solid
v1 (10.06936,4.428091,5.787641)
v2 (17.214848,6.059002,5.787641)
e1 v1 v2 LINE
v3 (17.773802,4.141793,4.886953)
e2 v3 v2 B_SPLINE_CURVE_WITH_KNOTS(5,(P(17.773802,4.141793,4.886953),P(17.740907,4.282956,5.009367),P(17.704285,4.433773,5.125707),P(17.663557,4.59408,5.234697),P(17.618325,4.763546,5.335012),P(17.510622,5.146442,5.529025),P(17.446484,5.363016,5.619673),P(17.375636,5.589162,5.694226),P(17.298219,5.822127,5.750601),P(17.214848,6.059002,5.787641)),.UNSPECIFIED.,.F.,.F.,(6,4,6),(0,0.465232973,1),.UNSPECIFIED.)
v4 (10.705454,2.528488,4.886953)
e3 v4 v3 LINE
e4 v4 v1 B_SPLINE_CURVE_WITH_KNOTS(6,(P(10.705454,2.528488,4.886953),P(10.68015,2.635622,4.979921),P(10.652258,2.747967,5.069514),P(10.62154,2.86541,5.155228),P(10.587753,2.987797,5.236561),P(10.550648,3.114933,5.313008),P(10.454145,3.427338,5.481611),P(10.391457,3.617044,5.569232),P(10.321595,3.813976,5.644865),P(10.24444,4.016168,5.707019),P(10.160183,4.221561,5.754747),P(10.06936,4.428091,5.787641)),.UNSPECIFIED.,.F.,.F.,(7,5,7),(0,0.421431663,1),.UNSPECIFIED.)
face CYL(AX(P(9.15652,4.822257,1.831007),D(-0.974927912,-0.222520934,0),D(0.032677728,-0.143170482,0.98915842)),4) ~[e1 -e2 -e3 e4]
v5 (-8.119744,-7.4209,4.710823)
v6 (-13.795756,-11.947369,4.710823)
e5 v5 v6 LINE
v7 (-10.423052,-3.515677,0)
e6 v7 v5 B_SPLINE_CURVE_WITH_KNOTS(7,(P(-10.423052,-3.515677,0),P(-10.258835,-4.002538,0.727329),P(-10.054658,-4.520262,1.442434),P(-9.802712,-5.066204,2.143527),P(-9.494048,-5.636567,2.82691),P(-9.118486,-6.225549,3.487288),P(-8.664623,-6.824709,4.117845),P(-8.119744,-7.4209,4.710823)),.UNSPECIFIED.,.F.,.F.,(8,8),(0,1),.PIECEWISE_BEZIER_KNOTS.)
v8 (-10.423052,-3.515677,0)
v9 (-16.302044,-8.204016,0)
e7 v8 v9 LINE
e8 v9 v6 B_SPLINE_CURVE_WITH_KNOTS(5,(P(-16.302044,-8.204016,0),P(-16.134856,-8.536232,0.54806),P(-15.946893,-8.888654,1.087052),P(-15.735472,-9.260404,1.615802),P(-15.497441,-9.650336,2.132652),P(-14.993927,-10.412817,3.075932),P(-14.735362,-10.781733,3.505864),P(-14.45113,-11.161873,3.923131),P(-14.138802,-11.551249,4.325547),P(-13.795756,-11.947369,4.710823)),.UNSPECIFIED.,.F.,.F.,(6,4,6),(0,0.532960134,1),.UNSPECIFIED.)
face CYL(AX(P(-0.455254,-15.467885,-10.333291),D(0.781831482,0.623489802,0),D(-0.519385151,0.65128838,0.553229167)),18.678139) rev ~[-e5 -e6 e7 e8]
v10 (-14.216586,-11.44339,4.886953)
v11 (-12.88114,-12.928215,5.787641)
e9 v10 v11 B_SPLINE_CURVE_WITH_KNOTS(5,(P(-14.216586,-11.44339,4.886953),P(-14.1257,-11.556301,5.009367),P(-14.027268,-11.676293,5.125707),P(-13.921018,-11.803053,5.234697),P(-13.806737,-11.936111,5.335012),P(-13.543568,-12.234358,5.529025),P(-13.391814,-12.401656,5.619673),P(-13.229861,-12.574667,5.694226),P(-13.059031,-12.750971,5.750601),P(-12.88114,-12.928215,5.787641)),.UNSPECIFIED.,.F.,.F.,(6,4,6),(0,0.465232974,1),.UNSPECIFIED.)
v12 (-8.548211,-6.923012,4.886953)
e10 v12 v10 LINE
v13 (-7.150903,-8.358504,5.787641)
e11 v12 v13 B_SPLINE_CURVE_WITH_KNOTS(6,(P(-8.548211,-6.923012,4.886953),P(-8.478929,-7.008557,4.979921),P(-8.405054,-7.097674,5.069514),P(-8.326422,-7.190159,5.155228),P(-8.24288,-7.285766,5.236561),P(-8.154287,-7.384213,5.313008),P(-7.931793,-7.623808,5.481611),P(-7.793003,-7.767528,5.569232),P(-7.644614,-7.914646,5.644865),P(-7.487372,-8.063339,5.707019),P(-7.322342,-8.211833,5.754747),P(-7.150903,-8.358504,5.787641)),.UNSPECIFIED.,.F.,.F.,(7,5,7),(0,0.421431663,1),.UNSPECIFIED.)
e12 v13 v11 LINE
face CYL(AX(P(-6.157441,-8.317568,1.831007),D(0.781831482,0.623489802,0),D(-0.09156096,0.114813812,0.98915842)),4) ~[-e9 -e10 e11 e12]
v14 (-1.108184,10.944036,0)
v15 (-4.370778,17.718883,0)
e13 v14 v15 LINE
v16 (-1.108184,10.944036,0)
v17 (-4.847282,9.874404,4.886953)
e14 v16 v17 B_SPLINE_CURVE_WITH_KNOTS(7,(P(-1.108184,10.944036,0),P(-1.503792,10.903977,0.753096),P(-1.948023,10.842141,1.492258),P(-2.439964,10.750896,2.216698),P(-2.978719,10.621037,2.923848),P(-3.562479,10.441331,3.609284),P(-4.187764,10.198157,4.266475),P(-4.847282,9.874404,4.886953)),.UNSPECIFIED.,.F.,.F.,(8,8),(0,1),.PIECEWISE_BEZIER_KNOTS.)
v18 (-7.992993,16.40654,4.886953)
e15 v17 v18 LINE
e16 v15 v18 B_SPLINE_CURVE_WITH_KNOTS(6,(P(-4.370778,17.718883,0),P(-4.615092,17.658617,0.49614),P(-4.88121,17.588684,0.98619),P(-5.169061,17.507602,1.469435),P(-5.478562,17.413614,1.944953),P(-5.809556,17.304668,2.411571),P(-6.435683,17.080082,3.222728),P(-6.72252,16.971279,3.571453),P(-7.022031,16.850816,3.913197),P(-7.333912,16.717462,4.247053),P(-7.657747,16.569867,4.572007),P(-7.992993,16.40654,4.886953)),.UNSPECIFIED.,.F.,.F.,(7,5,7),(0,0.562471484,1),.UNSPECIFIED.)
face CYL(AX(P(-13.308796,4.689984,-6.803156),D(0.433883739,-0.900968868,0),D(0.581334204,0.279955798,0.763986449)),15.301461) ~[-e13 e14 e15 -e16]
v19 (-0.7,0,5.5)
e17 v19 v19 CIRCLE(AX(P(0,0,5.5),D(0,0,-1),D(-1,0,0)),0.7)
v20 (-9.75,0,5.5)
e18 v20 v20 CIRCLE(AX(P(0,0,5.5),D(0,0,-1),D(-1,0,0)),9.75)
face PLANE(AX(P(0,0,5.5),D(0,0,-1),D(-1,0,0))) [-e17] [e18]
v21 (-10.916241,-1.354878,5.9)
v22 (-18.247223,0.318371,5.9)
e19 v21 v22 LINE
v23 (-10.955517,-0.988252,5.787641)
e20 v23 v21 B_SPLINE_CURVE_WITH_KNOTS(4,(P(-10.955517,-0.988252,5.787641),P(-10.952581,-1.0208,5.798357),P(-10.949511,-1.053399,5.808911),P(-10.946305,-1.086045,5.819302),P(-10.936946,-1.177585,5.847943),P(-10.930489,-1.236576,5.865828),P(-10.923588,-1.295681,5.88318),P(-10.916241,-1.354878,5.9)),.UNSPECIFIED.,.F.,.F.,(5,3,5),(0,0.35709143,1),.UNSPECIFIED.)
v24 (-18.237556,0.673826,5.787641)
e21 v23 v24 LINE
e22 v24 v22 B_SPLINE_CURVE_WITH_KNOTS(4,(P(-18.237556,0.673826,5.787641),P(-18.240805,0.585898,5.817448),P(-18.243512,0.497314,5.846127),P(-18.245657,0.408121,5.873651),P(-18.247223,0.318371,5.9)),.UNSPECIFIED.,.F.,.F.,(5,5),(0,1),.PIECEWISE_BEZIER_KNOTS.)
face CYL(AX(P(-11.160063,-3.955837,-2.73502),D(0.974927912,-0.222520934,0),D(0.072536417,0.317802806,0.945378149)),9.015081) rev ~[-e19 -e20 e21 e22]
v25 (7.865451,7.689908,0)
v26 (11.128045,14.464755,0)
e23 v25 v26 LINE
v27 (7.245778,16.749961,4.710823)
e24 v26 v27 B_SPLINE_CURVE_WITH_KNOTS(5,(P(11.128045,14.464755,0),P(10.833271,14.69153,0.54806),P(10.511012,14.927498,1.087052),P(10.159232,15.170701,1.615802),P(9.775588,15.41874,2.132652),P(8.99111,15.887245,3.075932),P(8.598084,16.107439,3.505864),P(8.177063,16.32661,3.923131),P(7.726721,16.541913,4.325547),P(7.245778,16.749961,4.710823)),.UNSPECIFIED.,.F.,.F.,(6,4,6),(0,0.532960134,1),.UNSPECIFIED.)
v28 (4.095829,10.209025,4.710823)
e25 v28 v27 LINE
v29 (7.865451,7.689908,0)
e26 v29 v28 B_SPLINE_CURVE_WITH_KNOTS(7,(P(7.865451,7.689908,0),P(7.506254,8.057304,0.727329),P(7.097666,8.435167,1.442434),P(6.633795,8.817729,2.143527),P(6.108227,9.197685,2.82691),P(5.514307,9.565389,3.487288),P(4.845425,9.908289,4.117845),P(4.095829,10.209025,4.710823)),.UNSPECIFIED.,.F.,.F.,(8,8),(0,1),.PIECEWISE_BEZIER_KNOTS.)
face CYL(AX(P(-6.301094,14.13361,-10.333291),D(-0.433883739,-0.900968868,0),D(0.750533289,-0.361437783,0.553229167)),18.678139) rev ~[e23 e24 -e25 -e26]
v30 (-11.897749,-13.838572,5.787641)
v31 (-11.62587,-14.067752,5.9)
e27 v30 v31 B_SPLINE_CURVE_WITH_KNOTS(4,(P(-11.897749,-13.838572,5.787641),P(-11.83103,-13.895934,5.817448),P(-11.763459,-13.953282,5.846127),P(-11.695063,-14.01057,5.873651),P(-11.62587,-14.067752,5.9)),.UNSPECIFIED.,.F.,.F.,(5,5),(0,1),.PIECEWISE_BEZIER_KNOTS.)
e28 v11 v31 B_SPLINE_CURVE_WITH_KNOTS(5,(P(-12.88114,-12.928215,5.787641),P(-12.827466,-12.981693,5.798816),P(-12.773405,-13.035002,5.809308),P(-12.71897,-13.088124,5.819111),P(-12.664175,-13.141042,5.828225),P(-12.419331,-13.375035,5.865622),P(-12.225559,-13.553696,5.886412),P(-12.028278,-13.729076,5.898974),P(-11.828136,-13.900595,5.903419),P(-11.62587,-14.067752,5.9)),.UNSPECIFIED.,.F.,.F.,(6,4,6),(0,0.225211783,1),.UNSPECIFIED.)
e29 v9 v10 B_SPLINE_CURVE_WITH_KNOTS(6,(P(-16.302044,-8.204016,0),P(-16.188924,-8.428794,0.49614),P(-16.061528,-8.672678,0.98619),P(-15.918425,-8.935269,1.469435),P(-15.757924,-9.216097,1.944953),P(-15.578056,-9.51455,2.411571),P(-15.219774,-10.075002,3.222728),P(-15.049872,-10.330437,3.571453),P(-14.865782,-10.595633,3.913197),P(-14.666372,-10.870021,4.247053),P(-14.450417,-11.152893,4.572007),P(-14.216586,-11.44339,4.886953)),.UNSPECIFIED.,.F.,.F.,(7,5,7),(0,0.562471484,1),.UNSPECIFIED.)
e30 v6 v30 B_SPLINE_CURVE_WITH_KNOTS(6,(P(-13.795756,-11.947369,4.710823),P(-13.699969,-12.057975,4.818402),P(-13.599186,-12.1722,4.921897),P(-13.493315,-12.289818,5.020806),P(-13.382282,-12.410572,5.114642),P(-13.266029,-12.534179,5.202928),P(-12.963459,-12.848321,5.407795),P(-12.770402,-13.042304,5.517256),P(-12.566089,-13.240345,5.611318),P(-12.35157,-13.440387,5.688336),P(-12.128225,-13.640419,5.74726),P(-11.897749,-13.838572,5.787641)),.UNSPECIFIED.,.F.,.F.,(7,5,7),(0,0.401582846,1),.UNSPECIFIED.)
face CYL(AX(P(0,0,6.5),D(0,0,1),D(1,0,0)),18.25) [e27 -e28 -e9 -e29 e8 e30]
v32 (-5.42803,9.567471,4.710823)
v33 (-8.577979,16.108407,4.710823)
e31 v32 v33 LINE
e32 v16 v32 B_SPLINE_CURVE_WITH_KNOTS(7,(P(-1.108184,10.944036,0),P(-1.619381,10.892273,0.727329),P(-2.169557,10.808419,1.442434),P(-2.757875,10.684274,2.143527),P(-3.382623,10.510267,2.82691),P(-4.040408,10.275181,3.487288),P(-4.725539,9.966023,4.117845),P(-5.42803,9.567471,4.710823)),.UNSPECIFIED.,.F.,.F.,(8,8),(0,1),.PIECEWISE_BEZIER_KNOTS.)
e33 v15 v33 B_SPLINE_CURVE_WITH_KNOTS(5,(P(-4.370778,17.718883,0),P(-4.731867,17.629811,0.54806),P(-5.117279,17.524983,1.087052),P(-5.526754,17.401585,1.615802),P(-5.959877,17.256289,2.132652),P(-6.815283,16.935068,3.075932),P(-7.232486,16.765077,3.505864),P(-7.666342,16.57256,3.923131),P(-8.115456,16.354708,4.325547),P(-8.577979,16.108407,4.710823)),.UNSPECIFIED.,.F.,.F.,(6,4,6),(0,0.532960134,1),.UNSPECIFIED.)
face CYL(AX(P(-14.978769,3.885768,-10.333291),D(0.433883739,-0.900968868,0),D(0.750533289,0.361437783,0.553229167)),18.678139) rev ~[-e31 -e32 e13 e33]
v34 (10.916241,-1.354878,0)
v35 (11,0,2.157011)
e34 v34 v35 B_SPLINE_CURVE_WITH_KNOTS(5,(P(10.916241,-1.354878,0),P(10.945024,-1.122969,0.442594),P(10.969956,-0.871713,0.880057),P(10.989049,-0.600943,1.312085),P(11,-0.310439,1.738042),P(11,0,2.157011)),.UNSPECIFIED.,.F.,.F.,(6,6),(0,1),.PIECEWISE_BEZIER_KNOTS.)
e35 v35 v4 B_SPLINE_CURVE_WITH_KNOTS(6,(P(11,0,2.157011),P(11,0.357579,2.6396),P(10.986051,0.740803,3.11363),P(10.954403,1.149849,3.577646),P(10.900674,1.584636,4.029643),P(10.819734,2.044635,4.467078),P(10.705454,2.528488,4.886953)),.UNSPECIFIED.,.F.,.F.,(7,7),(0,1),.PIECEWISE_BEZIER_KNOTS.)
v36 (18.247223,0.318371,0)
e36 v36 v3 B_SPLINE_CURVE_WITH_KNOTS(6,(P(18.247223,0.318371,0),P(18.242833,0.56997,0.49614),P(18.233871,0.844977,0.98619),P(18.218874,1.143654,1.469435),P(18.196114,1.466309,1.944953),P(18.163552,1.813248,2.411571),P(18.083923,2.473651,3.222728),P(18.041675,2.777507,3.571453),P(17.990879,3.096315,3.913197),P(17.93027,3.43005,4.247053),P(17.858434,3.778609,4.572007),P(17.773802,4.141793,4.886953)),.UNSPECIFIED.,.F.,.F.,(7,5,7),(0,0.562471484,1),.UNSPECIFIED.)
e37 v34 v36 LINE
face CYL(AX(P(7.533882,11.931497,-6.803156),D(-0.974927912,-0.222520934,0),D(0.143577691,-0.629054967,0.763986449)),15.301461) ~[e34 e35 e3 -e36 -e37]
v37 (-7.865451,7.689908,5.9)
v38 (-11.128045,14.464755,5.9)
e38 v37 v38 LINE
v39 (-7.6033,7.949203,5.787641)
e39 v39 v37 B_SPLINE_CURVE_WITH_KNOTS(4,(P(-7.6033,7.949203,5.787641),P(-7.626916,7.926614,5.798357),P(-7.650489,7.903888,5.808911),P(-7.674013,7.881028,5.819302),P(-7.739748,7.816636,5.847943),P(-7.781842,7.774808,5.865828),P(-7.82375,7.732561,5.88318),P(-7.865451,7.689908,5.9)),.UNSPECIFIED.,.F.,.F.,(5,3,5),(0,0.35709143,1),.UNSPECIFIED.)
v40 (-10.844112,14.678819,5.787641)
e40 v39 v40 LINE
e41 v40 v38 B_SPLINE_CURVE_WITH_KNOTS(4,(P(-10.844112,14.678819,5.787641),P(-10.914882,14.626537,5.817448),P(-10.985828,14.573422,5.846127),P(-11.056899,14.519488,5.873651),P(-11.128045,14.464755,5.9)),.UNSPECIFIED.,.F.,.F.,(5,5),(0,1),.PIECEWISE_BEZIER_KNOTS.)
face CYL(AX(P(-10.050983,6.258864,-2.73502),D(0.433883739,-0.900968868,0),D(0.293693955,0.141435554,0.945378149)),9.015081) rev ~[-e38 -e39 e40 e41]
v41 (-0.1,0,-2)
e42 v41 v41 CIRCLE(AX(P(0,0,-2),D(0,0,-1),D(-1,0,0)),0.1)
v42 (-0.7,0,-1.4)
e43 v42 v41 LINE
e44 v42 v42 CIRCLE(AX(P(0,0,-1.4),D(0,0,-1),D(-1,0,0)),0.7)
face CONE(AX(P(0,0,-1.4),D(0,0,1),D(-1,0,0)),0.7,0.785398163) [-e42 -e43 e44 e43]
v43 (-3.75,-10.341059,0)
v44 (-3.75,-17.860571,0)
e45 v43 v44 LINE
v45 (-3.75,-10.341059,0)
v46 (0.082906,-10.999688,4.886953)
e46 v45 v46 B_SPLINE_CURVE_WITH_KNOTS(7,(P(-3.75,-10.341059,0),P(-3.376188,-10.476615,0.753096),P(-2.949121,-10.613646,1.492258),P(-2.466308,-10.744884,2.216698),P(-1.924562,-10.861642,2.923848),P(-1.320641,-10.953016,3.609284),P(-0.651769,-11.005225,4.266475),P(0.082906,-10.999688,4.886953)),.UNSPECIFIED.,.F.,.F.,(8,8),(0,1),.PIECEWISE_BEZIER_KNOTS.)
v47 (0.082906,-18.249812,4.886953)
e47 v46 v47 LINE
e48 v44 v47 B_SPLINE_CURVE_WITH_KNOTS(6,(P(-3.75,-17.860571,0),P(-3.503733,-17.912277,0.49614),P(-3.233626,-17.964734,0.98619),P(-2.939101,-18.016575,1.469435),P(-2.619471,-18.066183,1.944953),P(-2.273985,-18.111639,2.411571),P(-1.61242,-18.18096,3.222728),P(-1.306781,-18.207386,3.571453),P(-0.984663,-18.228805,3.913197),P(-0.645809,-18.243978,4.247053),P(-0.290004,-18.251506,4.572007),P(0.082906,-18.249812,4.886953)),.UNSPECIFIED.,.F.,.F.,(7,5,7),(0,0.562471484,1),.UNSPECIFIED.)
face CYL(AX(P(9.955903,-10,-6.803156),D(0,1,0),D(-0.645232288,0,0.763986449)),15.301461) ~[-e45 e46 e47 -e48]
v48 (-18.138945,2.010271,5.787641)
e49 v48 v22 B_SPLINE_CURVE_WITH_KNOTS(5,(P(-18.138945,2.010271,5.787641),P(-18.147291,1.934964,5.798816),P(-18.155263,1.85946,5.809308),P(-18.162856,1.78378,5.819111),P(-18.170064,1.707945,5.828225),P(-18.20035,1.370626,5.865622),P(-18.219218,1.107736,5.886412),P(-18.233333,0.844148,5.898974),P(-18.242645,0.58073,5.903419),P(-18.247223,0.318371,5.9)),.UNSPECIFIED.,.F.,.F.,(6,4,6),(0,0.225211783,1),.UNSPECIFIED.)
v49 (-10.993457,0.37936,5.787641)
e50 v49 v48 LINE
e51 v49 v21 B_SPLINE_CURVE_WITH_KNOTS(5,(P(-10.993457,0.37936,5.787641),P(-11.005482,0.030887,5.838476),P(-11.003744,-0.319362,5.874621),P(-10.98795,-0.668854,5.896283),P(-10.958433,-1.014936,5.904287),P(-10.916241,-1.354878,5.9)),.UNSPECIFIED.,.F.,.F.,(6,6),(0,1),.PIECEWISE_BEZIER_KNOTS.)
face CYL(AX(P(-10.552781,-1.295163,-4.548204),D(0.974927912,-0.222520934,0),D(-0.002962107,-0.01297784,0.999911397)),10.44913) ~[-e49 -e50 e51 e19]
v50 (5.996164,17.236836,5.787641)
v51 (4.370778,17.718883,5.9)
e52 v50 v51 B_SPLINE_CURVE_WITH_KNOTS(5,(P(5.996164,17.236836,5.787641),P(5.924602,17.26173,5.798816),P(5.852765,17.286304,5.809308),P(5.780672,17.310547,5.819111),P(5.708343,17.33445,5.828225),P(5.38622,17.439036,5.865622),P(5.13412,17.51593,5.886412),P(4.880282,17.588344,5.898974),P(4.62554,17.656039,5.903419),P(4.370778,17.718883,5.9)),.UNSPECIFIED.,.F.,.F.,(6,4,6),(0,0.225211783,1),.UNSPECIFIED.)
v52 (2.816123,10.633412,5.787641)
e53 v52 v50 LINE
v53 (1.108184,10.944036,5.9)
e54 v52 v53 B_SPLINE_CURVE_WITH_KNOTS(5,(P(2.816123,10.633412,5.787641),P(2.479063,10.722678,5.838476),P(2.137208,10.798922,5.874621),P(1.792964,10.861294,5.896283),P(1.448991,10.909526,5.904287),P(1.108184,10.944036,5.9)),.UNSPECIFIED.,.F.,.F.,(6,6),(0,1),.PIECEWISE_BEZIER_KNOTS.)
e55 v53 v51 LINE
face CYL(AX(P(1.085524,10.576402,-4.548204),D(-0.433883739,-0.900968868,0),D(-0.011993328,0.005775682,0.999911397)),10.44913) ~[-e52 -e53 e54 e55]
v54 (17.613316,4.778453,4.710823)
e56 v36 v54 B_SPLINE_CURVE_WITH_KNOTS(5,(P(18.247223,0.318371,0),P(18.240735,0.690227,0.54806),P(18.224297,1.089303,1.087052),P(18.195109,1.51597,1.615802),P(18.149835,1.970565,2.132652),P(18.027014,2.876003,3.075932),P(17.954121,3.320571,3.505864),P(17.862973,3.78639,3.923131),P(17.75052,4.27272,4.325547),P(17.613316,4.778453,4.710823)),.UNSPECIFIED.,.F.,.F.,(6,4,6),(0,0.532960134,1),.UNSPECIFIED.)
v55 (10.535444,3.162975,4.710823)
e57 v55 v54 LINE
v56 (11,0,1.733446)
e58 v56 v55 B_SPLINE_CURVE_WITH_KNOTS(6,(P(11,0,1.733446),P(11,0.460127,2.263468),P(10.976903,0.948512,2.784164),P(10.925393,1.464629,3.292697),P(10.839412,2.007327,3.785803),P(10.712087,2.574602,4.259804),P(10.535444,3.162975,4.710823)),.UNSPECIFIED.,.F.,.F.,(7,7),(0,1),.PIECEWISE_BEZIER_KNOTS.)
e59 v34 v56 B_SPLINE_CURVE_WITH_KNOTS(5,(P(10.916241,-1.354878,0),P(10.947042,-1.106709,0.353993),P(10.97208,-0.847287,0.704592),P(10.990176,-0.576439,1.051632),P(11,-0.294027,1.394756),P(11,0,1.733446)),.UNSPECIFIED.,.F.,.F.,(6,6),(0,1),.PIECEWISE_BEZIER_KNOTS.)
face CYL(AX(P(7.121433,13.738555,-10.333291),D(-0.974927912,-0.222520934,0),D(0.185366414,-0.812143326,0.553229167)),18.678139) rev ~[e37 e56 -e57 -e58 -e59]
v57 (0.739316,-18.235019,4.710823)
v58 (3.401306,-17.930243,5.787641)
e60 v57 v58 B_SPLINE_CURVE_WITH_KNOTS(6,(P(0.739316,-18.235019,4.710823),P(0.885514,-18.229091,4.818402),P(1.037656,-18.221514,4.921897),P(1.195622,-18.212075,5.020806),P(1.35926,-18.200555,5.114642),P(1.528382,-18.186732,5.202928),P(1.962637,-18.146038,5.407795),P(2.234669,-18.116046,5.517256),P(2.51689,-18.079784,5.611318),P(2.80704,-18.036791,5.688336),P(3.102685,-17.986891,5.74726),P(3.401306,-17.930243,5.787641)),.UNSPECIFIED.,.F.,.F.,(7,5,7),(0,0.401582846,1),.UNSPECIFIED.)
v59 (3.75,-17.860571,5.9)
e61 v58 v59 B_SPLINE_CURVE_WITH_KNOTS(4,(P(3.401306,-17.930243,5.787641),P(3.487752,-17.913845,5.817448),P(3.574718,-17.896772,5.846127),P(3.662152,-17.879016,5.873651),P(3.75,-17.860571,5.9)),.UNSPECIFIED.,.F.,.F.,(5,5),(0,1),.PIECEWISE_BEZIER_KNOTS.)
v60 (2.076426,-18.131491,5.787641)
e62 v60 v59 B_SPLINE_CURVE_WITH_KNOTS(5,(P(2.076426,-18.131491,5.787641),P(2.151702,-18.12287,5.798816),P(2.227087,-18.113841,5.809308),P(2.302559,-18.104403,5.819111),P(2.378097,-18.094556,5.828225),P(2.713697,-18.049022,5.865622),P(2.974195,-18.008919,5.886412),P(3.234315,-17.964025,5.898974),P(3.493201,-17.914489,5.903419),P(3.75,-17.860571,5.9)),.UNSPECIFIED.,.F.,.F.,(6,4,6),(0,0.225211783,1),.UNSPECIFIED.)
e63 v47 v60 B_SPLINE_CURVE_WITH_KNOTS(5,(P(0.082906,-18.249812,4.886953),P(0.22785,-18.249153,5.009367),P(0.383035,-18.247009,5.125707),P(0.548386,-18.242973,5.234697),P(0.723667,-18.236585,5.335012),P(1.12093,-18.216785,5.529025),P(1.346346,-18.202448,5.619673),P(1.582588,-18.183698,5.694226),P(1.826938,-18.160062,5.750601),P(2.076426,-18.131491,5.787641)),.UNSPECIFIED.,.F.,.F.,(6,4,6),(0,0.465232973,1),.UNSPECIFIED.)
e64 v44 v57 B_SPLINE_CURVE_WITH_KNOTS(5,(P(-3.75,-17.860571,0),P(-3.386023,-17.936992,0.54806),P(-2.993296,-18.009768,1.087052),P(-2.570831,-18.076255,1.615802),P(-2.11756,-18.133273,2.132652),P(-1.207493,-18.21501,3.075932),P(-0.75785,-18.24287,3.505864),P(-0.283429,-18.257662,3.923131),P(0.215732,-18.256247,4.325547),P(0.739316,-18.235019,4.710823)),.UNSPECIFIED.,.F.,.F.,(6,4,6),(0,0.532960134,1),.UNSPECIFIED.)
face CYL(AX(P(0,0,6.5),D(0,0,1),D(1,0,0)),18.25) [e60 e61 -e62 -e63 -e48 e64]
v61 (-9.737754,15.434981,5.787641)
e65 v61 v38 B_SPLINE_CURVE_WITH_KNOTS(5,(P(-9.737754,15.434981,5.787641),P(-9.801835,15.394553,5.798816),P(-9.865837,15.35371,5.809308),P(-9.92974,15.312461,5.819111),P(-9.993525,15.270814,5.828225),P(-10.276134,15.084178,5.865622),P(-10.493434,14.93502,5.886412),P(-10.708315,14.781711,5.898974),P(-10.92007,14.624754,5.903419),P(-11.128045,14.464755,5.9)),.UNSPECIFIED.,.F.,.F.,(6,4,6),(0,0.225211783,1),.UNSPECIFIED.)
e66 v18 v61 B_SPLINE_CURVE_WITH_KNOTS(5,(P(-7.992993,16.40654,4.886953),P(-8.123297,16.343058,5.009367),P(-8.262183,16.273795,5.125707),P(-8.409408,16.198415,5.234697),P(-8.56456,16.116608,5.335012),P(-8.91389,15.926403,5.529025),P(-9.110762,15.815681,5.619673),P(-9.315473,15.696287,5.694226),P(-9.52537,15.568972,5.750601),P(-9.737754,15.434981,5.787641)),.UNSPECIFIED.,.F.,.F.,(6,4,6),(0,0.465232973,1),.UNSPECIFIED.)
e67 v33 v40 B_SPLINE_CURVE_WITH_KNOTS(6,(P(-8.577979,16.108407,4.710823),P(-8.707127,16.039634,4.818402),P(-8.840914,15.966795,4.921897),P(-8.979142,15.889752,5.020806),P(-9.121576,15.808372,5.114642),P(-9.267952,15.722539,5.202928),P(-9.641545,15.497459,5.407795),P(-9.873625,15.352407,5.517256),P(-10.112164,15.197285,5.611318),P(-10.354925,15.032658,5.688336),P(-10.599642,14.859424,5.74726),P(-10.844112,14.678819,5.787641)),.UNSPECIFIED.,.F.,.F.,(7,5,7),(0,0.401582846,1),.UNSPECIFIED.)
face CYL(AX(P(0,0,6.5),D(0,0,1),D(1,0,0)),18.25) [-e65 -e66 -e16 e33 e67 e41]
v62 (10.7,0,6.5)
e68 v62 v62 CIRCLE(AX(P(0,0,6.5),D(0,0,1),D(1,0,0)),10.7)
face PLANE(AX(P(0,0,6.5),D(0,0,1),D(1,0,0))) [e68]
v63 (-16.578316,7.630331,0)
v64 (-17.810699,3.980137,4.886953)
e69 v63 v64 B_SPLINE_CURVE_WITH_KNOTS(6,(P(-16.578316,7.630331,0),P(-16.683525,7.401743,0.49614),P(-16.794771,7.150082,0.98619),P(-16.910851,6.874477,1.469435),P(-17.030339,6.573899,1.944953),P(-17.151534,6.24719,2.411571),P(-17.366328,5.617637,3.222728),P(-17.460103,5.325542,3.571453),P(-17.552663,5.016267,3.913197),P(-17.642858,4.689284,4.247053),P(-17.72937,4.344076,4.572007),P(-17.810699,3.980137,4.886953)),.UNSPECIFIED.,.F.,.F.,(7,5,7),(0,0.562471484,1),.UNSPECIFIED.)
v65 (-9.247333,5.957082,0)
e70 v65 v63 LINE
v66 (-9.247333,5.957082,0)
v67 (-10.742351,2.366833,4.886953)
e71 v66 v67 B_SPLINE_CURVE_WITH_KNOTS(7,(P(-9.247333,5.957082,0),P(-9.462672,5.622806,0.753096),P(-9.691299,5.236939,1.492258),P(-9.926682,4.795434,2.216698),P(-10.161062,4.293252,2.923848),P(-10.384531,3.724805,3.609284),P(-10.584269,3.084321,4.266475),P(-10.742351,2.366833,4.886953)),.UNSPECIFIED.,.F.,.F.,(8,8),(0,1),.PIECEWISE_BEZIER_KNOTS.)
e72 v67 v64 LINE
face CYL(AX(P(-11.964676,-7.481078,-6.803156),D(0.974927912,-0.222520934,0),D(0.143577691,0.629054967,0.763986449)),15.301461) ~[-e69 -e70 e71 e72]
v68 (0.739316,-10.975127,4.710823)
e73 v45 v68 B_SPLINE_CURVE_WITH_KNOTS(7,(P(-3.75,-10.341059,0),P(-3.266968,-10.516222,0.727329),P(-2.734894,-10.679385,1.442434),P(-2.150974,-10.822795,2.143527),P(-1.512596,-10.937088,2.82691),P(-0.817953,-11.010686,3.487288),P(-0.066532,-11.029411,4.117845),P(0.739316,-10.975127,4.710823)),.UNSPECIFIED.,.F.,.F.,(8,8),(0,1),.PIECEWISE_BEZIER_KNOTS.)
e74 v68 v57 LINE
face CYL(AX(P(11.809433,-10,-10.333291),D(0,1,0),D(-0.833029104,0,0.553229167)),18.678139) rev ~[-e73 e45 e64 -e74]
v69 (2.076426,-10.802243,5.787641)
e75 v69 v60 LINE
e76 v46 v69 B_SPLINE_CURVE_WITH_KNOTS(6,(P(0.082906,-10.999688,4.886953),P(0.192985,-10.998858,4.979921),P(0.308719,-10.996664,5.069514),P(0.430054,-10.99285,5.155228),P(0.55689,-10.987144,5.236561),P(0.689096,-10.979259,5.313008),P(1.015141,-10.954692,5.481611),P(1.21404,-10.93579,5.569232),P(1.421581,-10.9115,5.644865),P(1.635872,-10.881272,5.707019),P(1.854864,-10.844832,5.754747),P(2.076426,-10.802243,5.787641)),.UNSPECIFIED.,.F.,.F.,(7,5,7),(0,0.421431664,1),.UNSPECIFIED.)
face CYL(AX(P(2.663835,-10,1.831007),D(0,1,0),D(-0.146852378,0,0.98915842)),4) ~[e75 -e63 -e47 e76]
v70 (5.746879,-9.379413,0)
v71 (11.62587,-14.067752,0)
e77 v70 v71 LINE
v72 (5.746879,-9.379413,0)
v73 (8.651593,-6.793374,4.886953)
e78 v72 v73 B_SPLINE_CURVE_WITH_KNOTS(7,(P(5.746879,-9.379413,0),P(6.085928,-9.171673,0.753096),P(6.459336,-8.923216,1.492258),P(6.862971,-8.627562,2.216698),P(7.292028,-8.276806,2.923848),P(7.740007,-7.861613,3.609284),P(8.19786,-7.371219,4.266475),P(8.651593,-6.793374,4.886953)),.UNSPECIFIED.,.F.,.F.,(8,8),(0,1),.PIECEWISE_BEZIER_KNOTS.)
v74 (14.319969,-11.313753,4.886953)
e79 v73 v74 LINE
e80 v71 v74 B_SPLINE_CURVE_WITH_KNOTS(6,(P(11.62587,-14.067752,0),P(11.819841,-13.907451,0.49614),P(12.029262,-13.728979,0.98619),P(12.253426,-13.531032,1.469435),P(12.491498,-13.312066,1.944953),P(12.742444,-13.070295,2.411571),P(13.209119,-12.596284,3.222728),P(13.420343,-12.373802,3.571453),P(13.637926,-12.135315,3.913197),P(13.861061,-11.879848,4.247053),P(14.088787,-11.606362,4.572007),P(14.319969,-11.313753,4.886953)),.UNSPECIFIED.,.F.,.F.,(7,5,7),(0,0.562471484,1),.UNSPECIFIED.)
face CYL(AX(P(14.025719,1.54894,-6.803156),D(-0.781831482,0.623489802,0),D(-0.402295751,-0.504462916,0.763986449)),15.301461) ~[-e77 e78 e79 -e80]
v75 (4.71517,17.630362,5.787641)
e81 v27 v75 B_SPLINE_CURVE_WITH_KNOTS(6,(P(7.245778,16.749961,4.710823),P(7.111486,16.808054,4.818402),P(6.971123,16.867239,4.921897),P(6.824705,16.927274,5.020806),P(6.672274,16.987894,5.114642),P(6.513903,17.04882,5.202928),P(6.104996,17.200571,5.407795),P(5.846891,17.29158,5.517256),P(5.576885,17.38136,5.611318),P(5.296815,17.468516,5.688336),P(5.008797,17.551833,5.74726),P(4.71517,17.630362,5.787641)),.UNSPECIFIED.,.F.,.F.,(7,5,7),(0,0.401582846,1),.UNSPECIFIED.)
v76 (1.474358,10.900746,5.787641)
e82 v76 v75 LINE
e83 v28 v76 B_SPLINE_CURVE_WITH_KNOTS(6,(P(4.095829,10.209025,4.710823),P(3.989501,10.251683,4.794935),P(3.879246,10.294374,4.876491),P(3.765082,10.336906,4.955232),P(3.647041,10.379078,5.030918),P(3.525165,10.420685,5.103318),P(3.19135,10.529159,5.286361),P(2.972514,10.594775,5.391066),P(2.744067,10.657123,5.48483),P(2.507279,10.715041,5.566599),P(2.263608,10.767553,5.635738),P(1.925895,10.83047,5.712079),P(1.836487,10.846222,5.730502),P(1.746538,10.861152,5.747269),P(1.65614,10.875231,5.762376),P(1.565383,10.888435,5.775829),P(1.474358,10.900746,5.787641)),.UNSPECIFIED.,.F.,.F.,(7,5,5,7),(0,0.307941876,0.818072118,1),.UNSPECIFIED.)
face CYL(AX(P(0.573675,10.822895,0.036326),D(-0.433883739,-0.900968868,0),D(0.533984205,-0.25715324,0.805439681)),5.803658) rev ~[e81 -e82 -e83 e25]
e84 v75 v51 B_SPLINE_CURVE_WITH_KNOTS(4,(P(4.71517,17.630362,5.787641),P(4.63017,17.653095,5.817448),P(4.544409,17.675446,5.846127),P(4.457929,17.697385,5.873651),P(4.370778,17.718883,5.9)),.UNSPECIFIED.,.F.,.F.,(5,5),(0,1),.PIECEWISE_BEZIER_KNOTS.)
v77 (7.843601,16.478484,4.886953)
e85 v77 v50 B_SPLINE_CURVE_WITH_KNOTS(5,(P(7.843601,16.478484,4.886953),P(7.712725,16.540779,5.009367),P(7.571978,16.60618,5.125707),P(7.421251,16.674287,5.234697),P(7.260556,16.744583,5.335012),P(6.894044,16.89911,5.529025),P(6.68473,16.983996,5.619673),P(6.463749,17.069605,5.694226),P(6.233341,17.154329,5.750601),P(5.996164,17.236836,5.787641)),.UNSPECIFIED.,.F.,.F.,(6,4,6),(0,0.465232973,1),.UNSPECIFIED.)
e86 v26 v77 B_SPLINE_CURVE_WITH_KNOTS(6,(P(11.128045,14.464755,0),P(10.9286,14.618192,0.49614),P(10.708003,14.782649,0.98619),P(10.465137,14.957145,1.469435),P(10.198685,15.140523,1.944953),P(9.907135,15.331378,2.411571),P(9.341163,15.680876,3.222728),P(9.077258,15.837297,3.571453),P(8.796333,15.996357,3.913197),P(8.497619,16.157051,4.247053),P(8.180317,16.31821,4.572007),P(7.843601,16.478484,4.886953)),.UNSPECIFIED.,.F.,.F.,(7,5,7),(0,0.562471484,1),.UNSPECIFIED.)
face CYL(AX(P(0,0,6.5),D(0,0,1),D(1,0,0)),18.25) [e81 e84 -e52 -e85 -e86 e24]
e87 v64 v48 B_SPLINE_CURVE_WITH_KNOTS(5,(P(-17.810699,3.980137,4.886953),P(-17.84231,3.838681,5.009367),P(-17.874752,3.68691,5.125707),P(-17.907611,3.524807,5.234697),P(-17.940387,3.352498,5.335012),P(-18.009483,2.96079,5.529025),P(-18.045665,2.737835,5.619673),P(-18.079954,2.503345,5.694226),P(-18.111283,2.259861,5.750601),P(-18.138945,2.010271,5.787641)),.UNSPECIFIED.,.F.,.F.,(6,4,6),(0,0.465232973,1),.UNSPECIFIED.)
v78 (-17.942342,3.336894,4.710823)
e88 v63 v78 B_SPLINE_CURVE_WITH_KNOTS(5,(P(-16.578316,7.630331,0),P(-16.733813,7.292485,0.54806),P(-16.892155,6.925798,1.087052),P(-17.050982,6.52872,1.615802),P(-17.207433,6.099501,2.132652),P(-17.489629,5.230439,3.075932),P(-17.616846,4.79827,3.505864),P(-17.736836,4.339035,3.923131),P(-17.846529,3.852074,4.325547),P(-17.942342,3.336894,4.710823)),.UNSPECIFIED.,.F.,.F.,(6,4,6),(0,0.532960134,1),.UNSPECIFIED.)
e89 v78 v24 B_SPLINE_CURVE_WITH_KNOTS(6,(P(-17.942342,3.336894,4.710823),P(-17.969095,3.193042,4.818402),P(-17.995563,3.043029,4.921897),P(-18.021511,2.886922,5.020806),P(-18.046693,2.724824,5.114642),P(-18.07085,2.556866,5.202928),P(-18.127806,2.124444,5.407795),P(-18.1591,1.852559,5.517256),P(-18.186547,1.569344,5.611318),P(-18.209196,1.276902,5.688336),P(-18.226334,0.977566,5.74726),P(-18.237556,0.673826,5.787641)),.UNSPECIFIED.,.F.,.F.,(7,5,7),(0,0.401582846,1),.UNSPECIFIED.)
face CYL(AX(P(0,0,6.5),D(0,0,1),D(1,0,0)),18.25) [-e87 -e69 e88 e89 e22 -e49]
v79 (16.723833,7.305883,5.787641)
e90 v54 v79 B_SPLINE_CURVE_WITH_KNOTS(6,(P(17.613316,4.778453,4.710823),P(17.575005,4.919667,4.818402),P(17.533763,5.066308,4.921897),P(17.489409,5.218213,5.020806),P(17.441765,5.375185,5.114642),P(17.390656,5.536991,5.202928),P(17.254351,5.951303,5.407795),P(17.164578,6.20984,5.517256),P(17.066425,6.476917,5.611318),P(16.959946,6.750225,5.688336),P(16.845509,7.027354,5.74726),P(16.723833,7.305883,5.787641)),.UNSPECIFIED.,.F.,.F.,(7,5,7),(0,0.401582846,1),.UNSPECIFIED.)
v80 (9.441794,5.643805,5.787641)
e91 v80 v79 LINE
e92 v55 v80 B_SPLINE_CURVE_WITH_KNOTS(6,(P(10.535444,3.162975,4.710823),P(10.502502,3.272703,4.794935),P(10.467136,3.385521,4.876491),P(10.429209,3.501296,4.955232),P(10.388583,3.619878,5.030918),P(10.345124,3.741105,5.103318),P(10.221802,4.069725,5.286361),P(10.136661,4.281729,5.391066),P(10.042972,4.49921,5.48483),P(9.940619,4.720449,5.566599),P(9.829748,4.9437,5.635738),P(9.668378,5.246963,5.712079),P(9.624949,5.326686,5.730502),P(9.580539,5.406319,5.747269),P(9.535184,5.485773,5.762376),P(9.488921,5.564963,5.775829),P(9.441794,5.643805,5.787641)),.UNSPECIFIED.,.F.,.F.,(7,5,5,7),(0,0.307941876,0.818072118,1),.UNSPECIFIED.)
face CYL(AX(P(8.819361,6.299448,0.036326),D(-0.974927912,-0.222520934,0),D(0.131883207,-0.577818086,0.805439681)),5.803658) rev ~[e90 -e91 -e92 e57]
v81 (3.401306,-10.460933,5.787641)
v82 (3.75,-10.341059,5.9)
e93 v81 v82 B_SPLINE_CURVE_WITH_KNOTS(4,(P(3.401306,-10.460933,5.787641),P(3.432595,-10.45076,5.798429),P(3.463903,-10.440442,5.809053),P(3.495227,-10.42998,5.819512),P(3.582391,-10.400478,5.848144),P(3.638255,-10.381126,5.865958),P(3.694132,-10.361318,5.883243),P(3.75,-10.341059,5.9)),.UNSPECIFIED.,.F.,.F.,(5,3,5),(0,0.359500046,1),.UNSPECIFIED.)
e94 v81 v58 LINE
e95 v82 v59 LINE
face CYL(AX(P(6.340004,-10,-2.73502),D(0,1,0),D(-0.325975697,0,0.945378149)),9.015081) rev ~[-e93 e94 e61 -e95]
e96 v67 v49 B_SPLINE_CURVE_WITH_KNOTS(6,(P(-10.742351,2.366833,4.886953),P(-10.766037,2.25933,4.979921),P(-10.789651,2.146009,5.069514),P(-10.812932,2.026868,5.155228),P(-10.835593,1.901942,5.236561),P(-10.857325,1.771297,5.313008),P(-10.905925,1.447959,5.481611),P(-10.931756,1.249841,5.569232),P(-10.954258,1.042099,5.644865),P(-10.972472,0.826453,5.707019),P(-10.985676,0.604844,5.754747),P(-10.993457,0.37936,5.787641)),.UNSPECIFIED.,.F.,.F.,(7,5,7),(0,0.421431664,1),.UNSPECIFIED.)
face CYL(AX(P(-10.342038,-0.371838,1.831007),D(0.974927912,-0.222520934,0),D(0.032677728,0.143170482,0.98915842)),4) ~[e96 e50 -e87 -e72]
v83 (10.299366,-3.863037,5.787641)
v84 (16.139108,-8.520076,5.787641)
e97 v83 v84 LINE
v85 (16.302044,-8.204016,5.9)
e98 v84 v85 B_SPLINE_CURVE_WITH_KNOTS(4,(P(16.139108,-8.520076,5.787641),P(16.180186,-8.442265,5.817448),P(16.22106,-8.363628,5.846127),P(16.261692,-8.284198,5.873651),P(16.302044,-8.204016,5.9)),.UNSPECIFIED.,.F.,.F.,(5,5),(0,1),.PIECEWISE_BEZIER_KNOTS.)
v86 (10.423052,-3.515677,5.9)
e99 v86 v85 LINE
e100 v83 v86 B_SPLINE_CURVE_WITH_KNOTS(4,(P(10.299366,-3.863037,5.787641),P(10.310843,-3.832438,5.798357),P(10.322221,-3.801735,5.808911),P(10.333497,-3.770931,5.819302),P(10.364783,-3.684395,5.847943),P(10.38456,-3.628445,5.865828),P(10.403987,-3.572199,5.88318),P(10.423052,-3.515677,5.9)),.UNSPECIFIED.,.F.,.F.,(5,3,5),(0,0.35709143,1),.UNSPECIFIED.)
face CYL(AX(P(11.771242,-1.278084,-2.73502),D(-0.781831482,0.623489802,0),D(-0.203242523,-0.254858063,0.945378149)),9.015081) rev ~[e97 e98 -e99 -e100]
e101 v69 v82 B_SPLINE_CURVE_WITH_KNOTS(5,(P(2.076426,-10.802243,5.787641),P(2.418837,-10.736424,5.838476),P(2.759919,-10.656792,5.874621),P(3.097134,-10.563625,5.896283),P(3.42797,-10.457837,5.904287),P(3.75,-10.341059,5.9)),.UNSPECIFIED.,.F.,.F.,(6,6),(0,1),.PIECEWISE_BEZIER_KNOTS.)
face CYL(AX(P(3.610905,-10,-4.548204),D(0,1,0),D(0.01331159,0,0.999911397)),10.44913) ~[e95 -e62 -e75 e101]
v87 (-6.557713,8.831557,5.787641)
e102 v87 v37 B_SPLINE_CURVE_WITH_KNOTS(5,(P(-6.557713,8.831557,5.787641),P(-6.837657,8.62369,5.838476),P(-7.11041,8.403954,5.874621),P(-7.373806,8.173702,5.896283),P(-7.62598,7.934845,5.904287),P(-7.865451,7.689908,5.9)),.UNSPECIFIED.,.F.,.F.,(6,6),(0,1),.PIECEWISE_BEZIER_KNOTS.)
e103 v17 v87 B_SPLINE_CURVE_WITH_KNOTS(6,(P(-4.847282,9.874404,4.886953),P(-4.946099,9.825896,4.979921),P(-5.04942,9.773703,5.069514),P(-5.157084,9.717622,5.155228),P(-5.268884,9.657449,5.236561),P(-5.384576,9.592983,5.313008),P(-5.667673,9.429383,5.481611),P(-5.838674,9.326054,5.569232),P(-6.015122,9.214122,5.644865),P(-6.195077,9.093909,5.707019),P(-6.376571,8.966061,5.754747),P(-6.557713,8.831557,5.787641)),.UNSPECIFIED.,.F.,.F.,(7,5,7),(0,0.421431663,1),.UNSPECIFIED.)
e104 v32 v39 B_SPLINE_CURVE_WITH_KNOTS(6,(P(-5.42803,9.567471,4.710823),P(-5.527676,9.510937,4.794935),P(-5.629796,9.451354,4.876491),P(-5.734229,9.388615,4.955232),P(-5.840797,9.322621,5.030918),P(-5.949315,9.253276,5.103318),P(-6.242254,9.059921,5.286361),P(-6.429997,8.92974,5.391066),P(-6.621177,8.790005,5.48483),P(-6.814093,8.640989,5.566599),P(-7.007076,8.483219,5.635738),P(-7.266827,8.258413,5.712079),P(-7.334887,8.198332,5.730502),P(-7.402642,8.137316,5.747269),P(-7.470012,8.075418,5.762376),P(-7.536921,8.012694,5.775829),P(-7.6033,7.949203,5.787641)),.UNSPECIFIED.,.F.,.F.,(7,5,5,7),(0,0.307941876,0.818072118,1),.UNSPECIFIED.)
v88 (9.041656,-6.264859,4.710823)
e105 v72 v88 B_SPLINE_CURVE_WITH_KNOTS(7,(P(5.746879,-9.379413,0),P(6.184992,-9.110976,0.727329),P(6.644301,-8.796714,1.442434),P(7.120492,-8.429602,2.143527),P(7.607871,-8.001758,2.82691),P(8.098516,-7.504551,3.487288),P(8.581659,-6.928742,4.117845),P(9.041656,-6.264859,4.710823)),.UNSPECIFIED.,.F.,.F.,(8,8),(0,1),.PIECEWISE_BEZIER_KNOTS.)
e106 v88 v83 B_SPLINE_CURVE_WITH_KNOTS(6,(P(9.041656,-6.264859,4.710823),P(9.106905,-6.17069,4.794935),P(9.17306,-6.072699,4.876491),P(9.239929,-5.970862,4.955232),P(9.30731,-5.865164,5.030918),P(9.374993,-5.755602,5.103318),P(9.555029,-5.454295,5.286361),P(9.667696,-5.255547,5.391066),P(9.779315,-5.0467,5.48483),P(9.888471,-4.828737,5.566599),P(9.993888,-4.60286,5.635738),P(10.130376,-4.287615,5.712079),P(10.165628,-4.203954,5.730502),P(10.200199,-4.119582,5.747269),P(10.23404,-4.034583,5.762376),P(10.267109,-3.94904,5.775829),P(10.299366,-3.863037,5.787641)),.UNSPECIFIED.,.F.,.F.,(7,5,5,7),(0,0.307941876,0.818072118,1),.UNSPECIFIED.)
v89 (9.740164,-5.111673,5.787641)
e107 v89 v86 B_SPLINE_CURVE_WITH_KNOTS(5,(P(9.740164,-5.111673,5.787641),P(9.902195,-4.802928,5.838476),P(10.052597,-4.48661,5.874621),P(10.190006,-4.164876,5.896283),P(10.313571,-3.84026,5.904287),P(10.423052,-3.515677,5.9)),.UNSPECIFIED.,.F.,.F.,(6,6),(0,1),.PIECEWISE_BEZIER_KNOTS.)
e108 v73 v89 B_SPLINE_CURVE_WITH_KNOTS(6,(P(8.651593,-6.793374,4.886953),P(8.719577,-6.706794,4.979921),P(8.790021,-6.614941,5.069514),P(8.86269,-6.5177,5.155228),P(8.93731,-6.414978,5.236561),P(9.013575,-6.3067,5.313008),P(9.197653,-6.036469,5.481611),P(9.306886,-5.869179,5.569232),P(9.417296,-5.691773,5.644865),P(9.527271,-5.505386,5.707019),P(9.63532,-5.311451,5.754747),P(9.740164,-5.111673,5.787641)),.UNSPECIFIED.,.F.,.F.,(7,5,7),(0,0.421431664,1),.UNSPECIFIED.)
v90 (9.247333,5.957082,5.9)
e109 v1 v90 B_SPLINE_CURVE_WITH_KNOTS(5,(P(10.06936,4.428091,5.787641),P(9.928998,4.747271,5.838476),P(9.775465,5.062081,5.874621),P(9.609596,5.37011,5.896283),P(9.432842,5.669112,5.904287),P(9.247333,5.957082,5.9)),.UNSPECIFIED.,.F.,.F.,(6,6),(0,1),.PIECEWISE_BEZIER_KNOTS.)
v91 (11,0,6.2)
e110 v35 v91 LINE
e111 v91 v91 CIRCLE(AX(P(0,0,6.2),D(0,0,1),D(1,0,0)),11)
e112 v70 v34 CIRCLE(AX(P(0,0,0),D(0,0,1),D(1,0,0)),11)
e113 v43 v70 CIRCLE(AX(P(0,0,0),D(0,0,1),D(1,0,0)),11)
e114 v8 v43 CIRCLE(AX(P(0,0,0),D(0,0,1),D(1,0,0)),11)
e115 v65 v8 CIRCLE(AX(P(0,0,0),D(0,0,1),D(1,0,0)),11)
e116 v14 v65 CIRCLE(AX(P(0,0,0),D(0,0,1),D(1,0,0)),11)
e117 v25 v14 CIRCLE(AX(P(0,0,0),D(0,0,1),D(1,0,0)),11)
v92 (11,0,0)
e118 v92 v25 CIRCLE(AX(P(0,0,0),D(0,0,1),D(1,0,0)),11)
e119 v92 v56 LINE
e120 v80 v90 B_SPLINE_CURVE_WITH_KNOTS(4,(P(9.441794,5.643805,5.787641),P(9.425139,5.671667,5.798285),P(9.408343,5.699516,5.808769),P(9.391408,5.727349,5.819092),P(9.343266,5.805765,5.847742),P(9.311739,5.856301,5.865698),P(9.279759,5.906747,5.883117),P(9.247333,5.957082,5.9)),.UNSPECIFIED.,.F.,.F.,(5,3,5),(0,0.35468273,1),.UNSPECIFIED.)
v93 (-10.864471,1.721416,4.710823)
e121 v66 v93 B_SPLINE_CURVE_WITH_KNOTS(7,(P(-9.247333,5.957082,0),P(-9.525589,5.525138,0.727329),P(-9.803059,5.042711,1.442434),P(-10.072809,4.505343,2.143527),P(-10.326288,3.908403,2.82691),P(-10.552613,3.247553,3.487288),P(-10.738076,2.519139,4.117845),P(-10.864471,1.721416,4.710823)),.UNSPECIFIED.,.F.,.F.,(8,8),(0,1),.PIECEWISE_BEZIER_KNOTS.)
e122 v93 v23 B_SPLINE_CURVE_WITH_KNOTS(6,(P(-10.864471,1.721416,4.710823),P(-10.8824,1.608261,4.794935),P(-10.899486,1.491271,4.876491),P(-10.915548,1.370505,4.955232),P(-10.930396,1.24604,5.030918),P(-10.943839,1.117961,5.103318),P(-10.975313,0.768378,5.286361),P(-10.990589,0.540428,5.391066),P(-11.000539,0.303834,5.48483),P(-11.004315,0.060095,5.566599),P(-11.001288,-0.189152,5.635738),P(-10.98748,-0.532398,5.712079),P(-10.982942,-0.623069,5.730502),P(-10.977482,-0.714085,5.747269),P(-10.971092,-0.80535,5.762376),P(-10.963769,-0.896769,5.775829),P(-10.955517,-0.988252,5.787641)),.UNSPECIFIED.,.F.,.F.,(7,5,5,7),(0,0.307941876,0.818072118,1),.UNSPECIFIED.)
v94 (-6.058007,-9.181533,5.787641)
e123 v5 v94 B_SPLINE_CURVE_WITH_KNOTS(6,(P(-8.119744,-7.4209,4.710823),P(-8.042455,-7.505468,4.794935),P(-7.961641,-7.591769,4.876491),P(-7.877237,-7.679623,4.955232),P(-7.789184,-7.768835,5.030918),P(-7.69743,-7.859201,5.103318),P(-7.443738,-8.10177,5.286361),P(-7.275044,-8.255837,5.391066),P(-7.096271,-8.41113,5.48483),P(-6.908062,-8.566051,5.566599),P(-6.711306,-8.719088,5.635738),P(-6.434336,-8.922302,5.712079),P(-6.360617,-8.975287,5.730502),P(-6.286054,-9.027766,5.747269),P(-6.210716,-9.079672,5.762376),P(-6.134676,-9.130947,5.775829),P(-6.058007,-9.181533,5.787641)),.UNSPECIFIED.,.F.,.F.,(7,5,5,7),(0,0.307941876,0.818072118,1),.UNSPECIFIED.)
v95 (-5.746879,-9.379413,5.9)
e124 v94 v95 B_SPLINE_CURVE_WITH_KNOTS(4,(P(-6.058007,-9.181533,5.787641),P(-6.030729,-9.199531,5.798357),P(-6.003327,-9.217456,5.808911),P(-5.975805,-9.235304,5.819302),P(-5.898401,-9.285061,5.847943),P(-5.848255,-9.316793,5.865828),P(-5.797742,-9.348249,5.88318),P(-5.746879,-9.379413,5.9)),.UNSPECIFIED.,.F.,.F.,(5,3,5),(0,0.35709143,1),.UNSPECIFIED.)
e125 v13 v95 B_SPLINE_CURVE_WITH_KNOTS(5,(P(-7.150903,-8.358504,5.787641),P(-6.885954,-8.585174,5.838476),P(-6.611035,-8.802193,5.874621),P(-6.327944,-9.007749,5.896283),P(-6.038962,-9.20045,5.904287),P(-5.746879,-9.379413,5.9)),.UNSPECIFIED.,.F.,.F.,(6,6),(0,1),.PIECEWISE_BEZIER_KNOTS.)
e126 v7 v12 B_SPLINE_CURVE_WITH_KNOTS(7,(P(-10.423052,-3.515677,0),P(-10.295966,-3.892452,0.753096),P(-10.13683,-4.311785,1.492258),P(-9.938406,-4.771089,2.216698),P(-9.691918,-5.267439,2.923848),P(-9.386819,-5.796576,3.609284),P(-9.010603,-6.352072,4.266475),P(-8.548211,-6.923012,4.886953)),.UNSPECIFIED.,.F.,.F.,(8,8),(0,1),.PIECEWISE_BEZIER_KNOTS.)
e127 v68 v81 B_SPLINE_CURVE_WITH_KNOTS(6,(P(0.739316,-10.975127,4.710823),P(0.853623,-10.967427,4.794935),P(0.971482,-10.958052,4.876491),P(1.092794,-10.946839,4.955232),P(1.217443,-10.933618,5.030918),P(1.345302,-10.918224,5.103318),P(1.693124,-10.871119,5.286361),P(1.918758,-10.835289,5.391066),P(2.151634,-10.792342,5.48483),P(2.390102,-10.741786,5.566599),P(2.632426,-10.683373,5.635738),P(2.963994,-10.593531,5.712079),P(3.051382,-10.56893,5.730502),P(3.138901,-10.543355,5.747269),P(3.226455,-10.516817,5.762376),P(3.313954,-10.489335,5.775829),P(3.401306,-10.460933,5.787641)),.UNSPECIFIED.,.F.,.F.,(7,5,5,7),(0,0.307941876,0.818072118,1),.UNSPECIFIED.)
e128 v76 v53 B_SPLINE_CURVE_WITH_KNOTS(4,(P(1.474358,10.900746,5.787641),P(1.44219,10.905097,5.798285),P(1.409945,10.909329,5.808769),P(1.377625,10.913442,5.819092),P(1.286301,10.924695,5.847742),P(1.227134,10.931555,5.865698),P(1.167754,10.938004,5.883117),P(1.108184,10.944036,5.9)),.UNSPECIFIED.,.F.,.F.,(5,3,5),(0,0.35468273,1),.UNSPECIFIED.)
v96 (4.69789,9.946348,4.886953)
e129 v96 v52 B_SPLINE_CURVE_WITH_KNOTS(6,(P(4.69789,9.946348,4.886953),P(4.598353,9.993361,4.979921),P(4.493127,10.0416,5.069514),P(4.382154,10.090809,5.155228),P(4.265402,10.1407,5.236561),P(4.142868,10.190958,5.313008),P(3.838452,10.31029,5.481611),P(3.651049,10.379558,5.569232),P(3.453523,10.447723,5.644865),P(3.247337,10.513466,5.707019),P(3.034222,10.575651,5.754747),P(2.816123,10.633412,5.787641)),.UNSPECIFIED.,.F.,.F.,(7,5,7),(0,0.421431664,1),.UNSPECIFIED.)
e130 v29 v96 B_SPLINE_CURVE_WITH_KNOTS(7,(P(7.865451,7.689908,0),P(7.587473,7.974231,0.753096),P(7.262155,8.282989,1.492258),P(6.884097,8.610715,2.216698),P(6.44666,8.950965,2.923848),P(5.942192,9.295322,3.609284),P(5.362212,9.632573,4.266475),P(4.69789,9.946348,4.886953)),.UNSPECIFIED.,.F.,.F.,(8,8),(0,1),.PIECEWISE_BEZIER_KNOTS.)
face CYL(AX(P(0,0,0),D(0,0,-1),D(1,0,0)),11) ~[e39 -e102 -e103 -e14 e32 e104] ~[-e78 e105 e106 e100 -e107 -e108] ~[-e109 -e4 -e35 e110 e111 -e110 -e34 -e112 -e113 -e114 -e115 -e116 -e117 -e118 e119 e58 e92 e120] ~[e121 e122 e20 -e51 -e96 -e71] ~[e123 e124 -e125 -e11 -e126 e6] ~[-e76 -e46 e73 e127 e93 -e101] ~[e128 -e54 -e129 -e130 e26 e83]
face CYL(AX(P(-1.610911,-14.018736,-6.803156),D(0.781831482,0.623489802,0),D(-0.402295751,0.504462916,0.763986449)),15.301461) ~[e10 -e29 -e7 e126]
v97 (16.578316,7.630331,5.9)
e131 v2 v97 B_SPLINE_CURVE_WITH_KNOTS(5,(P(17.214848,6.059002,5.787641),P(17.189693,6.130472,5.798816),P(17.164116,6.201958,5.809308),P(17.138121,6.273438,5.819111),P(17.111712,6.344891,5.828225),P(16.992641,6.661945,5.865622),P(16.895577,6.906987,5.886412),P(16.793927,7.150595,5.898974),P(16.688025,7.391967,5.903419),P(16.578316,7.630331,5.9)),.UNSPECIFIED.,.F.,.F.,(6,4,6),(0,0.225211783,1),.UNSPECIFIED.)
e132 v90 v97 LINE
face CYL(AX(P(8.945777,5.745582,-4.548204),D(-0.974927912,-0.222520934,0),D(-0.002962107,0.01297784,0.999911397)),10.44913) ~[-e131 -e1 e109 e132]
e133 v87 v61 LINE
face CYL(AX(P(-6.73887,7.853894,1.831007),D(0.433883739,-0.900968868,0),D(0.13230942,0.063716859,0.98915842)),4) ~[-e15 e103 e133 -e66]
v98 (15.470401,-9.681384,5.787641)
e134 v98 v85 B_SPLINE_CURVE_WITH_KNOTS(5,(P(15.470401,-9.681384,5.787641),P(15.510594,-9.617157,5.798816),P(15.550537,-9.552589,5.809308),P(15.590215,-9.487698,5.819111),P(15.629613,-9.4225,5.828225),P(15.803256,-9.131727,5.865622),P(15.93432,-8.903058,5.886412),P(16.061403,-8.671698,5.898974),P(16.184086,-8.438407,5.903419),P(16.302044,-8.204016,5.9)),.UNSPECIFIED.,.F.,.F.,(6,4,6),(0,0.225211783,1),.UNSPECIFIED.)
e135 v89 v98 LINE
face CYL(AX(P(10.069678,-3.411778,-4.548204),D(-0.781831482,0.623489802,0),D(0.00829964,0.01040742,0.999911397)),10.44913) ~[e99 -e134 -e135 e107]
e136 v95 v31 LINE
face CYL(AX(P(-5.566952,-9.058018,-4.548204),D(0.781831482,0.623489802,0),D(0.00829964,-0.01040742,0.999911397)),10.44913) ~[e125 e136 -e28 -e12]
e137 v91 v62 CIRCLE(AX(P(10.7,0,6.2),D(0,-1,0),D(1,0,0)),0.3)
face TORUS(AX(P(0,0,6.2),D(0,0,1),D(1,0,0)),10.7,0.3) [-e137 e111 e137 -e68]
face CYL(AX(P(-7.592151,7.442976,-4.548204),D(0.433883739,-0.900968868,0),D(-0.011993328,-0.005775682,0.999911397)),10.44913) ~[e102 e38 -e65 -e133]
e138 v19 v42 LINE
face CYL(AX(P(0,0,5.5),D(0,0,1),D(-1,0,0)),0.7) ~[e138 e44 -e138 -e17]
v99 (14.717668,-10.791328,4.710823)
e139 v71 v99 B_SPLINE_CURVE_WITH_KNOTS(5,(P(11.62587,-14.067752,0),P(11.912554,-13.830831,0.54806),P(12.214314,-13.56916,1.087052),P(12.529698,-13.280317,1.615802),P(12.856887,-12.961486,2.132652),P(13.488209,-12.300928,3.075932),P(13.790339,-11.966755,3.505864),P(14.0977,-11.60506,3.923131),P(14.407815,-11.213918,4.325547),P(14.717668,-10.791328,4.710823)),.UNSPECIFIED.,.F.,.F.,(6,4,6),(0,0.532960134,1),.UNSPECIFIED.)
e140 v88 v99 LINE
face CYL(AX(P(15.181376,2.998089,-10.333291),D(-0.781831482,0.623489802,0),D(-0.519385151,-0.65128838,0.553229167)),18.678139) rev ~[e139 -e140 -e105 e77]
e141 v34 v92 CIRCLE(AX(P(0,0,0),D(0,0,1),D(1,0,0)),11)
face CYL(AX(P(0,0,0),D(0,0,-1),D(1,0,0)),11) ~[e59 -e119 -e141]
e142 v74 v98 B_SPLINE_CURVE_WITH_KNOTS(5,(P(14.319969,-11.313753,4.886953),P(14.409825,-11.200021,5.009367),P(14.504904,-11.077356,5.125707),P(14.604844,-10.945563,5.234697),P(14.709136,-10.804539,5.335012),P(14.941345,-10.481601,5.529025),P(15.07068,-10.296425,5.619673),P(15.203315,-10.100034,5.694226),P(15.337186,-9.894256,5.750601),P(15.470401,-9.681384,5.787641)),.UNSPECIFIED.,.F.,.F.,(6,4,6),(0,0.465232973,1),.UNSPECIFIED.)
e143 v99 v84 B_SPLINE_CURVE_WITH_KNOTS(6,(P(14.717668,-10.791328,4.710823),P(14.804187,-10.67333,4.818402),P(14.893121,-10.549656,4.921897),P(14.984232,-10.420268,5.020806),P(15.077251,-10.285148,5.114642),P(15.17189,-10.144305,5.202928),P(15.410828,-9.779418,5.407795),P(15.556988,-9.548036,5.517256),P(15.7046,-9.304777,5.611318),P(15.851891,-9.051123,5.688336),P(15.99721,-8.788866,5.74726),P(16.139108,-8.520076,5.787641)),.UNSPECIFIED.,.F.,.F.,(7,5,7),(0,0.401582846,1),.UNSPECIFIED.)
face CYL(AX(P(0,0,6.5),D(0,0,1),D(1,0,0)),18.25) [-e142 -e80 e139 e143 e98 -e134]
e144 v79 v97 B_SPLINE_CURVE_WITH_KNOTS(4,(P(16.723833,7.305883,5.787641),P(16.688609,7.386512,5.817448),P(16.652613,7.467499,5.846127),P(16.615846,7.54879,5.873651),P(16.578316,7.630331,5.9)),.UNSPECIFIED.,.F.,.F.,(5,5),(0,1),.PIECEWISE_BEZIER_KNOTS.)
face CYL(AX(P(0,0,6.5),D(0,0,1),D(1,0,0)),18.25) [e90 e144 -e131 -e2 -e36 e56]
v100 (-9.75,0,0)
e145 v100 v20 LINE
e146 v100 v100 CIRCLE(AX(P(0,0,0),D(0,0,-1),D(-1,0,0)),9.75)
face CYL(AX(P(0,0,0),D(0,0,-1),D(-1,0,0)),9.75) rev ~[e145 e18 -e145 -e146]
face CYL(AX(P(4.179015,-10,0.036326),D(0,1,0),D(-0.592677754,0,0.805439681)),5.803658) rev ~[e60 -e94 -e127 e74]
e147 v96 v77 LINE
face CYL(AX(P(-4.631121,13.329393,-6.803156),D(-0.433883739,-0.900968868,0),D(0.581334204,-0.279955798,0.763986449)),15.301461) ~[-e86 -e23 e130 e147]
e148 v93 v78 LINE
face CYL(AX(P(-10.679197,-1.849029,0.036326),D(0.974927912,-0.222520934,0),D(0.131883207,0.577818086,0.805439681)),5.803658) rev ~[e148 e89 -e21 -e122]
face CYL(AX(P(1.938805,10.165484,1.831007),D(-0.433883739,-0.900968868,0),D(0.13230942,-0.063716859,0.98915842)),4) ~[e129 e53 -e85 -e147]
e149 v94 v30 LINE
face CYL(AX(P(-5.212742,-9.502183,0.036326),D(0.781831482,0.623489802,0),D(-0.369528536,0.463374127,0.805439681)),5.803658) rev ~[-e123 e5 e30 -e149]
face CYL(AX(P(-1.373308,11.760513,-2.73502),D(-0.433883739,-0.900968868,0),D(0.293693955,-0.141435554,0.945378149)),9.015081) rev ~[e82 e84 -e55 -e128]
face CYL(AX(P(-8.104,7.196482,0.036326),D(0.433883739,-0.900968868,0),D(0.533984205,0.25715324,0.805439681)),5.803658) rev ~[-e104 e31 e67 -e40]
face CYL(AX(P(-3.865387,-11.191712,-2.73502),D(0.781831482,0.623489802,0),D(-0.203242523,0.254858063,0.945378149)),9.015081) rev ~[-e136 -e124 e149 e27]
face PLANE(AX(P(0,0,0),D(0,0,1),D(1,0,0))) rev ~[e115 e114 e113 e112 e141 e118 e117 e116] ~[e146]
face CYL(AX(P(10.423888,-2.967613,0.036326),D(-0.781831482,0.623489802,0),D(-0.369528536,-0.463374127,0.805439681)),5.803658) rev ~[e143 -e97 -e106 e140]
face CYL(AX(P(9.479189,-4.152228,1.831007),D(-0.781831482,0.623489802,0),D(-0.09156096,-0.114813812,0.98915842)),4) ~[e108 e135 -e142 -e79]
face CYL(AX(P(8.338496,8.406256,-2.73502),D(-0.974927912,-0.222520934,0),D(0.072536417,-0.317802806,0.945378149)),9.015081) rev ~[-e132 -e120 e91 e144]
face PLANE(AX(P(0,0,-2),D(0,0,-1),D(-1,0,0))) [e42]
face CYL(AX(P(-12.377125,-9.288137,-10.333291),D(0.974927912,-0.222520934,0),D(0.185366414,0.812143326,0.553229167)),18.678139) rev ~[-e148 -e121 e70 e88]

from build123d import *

# Parameters (mm, degrees)
SKETCH_1_R               = 11
EXTRUDE_1_DEPTH          = 6.5
SKETCH_2_R               = 9.75
CUT_EXTRUDE_1_DEPTH      = 5.5
SKETCH_3_R               = 0.7
EXTRUDE_2_DEPTH          = 7.5
CHAMFER_1_SIZE           = 0.6
EXTRUDE_START            = -10
EXTRUDE_3_DEPTH          = 23
PATTERN_CIRCULAR_1_COUNT = 7
FILLET_1_R               = 0.3
SKETCH_5_OUTSIDE_W       = 86.532
SKETCH_5_OUTSIDE_H       = 84.877
SKETCH_5_OUTSIDE_R       = 18.25
CUT_EXTRUDE_2_DEPTH      = 23


with BuildPart() as part:
    # Эскиз1 → Бобышка-Вытянуть1 (new body)
    with BuildSketch(Plane.XY):
        Circle(SKETCH_1_R)
    extrude(amount=EXTRUDE_1_DEPTH)

    # Эскиз2 → Вырез-Вытянуть1 (cut)
    with BuildSketch(Plane(origin=(0, 0, 0), x_dir=(-1, 0, 0), z_dir=(0, 0, -1))):
        Circle(SKETCH_2_R)
    extrude(amount=-CUT_EXTRUDE_1_DEPTH, mode=Mode.SUBTRACT)

    # Эскиз3 → Бобышка-Вытянуть2 (add)
    with BuildSketch(Plane(origin=(0, 0, 5.5), x_dir=(-1, 0, 0), z_dir=(0, 0, -1))):
        Circle(SKETCH_3_R)
    extrude(amount=EXTRUDE_2_DEPTH)

    # Фаска1
    chamfer_1_edges = [part.edges().sort_by_distance(p)[0] for p in [
        (0.7, 0, -2),
    ]]
    chamfer(chamfer_1_edges, length=CHAMFER_1_SIZE)

    # Эскиз4 → Бобышка-Вытянуть3 (add)
    with BuildSketch(Plane(origin=(0, 0, 0), x_dir=(1, 0, 0), z_dir=(0, 1, 0)).offset(EXTRUDE_START)):
        with BuildLine():
            ThreePointArc((3.75, -5.9), (2.910954768, -5.877455841), (2.076425924, -5.787640746))
            ThreePointArc((2.076425924, -5.787640746), (1.016898237, -5.476222818), (0.082906283, -4.886952865))
            ThreePointArc((0.082906283, -4.886952865), (-2.084101368, -2.63998988), (-3.75, 0))
            ThreePointArc((-3.75, 0), (-1.712075741, -2.552424329), (0.739315837, -4.710822941))
            ThreePointArc((0.739315837, -4.710822941), (2.002660979, -5.416468702), (3.40130611, -5.787640746))
            ThreePointArc((3.40130611, -5.787640746), (3.575082247, -5.845591808), (3.75, -5.9))
        make_face()
    extrude_3 = extrude(amount=-EXTRUDE_3_DEPTH)

    # Круговой массив1: Бобышка-Вытянуть3 ×7 about axis
    pattern_circular_1_axis = Axis((0, 0, 6.5), (0, 0, -1))
    for i in range(1, PATTERN_CIRCULAR_1_COUNT):
        add(extrude_3.rotate(pattern_circular_1_axis, i * 360 / PATTERN_CIRCULAR_1_COUNT))

    # Скругление1
    fillet_1_edges = [part.edges().sort_by_distance(p)[0] for p in [
        (-11, 0, 6.5),
    ]]
    fillet(fillet_1_edges, radius=FILLET_1_R)

    # Эскиз5 outside → Вырез-Вытянуть2 (cut)
    with BuildSketch(Plane.XY.offset(6.5)):
        with Locations((0, -0.8205)):
            Rectangle(SKETCH_5_OUTSIDE_W, SKETCH_5_OUTSIDE_H)
        Circle(SKETCH_5_OUTSIDE_R, mode=Mode.SUBTRACT)
    extrude(amount=-CUT_EXTRUDE_2_DEPTH, mode=Mode.SUBTRACT)


solid = part.part
